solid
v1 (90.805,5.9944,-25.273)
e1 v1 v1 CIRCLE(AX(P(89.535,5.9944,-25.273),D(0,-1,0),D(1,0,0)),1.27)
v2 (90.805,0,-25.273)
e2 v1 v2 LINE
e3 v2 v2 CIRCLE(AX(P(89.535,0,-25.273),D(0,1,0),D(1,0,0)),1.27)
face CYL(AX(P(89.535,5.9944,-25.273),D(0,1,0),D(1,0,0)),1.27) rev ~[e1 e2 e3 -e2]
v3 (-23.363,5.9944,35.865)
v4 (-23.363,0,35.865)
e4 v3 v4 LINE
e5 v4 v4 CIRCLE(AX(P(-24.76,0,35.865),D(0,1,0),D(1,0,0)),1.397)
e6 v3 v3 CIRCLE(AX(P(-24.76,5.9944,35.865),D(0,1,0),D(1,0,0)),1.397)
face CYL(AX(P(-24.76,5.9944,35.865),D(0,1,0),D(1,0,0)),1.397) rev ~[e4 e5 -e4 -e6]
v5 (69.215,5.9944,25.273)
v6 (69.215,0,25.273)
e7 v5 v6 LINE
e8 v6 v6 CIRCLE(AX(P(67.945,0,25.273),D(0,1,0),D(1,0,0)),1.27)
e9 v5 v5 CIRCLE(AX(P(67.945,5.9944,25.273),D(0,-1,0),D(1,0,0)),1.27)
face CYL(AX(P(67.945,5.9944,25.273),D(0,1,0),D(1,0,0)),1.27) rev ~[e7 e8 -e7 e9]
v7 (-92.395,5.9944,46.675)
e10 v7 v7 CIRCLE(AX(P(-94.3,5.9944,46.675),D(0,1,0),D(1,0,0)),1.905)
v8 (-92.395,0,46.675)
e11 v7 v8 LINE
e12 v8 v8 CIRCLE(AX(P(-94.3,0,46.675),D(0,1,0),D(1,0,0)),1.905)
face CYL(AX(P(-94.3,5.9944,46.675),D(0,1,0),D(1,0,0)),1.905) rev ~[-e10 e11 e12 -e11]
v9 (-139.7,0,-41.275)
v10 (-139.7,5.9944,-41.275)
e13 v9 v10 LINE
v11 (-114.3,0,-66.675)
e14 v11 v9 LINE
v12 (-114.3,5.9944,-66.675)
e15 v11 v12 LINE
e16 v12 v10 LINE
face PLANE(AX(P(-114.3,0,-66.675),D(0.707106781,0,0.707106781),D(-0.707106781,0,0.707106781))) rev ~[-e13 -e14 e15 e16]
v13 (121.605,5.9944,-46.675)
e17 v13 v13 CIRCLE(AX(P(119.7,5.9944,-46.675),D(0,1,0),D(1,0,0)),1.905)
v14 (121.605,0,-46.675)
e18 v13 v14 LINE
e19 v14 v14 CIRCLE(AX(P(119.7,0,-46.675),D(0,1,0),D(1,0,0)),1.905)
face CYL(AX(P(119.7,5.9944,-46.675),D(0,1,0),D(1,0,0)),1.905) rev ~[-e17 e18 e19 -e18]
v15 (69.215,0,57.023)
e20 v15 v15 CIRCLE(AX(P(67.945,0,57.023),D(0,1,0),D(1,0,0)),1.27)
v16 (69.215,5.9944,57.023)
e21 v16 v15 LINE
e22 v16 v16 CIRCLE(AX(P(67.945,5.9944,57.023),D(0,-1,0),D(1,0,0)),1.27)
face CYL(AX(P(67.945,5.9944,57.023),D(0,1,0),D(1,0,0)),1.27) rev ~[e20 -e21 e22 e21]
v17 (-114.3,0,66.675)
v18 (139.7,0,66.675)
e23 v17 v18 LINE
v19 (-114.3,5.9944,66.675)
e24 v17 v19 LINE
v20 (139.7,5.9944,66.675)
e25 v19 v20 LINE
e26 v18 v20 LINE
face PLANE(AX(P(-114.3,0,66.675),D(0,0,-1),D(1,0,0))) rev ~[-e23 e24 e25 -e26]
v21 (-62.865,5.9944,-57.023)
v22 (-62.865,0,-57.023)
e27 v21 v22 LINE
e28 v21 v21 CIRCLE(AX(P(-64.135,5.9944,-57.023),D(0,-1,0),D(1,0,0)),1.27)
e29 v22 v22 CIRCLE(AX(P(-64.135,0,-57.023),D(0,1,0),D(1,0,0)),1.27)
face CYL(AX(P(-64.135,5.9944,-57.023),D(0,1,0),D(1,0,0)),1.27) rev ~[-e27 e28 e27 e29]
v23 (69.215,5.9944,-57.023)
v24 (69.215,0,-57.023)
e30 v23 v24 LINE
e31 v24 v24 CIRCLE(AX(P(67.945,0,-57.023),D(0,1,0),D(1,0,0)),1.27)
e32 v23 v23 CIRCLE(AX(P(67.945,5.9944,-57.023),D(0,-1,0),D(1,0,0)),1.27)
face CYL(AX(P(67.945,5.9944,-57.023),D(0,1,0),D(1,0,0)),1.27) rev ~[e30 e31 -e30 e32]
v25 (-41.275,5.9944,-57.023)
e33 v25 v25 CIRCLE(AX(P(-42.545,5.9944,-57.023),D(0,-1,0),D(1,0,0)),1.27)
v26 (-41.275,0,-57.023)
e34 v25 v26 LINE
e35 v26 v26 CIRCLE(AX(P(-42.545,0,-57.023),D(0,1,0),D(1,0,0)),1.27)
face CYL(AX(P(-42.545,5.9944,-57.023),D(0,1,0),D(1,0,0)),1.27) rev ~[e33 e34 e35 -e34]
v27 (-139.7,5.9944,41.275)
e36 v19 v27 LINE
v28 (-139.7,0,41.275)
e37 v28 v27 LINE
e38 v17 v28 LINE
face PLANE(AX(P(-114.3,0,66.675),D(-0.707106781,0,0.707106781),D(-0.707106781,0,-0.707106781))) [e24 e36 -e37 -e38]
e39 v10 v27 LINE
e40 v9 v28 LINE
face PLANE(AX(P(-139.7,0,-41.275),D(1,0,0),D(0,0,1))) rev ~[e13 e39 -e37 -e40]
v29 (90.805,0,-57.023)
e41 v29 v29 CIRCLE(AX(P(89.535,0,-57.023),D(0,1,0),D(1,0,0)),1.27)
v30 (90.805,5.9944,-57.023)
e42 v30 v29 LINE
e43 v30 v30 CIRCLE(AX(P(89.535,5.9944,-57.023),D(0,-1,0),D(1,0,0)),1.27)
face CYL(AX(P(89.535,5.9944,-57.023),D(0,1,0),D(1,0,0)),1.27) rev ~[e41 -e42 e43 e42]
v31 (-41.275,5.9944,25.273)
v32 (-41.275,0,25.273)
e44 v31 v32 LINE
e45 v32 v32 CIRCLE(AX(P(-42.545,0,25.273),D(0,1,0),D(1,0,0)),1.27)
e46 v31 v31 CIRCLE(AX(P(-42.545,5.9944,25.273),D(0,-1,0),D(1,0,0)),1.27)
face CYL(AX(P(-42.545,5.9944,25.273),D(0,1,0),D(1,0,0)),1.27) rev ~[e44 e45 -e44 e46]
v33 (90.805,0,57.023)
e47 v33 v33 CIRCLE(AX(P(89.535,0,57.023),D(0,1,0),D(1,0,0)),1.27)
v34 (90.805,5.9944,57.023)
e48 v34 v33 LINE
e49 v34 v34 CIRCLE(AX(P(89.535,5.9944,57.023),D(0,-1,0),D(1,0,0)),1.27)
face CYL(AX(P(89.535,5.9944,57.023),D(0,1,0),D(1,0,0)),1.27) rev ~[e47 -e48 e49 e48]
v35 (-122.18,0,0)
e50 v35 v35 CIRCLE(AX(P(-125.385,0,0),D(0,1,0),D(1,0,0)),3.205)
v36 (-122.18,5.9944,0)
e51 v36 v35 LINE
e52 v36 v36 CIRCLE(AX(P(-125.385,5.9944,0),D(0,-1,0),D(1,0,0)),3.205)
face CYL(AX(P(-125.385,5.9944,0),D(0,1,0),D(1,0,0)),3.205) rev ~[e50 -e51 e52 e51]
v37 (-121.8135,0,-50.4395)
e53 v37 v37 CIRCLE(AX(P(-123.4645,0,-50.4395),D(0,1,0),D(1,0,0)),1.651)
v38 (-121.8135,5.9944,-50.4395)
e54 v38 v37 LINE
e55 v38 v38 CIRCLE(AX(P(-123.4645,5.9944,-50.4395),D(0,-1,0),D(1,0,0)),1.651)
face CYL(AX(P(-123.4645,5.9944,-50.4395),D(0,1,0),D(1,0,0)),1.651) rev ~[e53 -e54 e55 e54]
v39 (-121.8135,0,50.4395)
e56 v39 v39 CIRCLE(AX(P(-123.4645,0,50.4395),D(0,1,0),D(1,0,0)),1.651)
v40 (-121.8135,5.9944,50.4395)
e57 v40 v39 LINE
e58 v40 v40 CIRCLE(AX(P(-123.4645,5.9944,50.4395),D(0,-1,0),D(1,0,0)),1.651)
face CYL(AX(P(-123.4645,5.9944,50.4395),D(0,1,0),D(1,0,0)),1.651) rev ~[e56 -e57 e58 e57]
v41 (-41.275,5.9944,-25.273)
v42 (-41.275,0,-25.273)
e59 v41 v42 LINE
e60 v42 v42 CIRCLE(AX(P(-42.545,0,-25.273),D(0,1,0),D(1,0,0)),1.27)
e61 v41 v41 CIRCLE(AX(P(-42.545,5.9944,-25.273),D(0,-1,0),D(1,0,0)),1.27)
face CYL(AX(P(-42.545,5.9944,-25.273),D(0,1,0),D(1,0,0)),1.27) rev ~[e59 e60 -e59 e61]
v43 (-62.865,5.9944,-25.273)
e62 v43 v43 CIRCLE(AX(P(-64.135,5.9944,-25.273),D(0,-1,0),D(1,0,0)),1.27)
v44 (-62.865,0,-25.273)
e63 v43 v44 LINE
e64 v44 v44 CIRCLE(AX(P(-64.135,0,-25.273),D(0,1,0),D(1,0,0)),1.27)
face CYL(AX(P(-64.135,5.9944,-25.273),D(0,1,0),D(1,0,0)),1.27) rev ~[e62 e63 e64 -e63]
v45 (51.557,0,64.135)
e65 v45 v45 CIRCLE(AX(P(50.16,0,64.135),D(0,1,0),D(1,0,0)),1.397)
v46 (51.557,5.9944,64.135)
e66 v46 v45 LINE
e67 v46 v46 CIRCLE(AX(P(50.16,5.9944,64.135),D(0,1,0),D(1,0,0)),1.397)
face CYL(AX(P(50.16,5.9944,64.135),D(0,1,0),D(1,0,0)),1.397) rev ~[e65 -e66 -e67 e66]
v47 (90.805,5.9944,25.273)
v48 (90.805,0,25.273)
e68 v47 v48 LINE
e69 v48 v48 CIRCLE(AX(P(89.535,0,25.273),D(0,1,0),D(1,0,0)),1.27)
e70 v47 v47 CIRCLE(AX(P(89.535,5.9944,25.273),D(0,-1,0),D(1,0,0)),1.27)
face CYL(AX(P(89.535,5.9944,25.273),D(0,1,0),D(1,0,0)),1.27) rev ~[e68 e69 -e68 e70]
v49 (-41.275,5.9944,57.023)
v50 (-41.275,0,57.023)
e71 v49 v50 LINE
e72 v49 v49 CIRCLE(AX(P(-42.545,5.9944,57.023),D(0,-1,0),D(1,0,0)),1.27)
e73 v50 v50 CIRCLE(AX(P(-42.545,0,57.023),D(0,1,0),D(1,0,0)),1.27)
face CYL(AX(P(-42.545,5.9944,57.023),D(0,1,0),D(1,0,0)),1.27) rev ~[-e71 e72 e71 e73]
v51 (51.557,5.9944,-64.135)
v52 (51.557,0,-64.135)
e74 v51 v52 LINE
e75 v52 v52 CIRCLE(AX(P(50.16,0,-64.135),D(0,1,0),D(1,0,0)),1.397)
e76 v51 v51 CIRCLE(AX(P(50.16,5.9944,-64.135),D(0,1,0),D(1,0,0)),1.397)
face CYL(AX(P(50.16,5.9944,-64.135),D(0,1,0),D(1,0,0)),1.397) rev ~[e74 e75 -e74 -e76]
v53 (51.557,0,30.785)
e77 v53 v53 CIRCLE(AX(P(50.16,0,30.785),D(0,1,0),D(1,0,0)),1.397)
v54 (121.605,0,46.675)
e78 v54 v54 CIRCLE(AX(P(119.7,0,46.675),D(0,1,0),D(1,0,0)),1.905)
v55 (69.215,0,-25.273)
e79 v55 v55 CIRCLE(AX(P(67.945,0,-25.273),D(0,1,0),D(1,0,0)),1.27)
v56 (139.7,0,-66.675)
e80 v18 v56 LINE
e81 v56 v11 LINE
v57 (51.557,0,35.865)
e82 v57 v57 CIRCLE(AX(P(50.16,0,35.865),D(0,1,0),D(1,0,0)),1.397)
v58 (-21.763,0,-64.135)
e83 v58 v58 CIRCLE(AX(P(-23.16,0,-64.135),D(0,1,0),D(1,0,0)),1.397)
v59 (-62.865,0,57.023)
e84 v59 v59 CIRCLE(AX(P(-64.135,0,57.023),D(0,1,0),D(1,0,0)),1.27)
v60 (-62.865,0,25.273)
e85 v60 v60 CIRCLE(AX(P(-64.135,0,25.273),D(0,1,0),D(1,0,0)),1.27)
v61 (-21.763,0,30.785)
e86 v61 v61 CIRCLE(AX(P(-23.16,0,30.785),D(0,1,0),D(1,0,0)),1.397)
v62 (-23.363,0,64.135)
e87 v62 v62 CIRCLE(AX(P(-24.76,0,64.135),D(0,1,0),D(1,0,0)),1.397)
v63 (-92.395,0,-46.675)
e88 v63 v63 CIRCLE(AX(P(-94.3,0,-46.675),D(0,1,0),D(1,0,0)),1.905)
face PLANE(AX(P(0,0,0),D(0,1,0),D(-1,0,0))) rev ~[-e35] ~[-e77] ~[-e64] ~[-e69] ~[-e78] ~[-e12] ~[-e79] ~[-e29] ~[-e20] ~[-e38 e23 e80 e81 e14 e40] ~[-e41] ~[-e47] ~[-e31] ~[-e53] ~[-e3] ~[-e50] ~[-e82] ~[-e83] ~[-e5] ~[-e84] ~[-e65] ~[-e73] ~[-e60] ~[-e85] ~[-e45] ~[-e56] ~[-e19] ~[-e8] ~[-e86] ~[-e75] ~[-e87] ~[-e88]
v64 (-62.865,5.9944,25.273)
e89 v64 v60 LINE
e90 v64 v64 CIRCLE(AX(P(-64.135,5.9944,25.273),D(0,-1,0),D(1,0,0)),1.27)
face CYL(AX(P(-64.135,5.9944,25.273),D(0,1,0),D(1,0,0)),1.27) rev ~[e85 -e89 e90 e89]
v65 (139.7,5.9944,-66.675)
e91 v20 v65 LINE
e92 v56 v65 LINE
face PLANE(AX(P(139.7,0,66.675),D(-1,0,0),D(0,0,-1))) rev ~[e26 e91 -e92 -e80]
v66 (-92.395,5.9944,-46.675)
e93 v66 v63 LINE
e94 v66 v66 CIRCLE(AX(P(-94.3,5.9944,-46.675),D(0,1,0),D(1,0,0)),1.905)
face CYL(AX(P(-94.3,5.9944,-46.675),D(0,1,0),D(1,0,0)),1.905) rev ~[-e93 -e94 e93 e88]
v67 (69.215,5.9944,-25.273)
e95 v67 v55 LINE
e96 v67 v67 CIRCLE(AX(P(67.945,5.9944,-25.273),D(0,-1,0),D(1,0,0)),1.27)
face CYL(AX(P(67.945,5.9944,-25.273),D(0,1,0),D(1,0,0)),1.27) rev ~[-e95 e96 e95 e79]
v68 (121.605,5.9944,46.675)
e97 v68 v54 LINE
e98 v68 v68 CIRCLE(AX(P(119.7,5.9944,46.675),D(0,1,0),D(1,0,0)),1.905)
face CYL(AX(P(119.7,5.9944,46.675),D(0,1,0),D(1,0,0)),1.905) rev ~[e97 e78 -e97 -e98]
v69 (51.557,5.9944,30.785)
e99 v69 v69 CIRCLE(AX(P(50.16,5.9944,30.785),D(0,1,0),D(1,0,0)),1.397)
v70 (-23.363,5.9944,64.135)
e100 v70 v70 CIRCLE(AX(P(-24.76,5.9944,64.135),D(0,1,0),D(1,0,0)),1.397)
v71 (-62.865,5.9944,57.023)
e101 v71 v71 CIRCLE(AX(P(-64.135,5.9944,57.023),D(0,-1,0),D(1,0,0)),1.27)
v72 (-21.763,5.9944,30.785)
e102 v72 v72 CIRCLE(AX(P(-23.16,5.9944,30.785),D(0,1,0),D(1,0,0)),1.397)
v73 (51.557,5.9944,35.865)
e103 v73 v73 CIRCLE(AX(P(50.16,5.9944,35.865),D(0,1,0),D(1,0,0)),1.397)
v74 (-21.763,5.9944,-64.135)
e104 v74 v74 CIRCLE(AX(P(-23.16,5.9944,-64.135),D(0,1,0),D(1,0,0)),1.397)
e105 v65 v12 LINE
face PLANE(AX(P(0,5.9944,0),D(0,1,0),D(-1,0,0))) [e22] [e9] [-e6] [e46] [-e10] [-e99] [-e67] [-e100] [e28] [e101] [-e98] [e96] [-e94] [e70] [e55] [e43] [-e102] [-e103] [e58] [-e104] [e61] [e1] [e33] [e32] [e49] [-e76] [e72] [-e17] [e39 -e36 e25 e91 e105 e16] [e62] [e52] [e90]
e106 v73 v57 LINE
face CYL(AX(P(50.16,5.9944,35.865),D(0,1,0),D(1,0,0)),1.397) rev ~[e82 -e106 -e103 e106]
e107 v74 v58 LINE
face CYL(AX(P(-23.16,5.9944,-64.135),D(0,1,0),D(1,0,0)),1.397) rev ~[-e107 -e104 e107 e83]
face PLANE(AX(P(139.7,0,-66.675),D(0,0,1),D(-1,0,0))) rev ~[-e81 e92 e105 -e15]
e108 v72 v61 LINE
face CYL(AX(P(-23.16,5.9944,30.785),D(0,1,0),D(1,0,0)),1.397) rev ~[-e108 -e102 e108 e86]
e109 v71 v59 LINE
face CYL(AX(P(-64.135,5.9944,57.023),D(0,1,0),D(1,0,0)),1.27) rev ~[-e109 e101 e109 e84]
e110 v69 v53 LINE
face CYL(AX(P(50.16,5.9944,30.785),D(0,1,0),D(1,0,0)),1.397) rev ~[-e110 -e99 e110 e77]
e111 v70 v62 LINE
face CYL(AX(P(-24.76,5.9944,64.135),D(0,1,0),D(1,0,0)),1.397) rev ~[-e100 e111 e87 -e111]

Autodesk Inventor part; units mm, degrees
ref_plane "YZ Plane" through (0, 0, 0) normal (1, 0, 0) x (0, 1, 0)
ref_plane "XZ Plane" through (0, 0, 0) normal (0, 1, 0) x (-1, 0, 0)
ref_plane "XY Plane" through (0, 0, 0) normal (0, 0, 1) x (1, 0, 0)
sketch "Sketch1" plane through (0, 0, 0) normal (0, 1, 0) x (-1, 0, 0)
  line L0 (139.7, 66.675) -> (-139.7, 66.675)
  line L1 (-139.7, 66.675) -> (-139.7, -66.675)
  line L2 (-139.7, -66.675) -> (139.7, -66.675)
  line L3 (139.7, -66.675) -> (139.7, 66.675)
  line L4 (114.3, 66.675) -> (114.3, -66.675)
  line L5 (114.3, 66.675) -> (139.7, 41.275)
  line L6 (114.3, -66.675) -> (139.7, -41.275)
  point P0 (0, 0)
  dimension "d0" = 133.35
  dimension "d1" = 279.4
  dimension "d2" = 66.675
  dimension "d3" = 139.7
  dimension "d4" = 25.4
  dimension "d5" = 45
  dimension "d6" = 45
extrude "Body" add sketch "Sketch1" along normal blind 5.9944 contours L4 L2 L1 L0 | L5 L3 L6 L4
sketch "Sketch2" plane through (0, 5.9944, 0) normal (0, 1, 0) x (1, 0, 0)
  line L0 (-114.3, 66.675) -> (-139.7, 41.275) projected
  line L1 (-139.7, 41.275) -> (-139.7, -41.275) projected
  line L2 (-139.7, -41.275) -> (-114.3, -66.675) projected
  line L3 (-114.3, -66.675) -> (139.7, -66.675) projected
  line L4 (139.7, -66.675) -> (139.7, 66.675) projected
  line L5 (139.7, 66.675) -> (-114.3, 66.675) projected
  line L6 (-114.3, -66.675) -> (-114.3, 66.675)
  line L7 (-114.3, -14.605) -> (139.7, -14.605)
  line L8 (78.74, -14.605) -> (78.74, -66.675)
  line L9 (-53.34, -14.605) -> (-53.34, -66.675)
  line L10 (-114.3, -66.675) -> (139.7, -66.675) projected
  line L11 (-42.545, -14.605) -> (-42.545, -66.675)
  line L12 (-42.545, -66.675) -> (-64.135, -66.675)
  line L13 (-64.135, -66.675) -> (-64.135, -14.605)
  line L14 (12.7, -66.675) -> (12.7, 66.675)
  line L15 (78.74, -14.605) -> (78.74, -66.675)
  line L16 (67.945, -14.605) -> (67.945, -66.675)
  line L17 (89.535, -66.675) -> (89.535, -14.605)
  circle A0 centre (-64.135, -57.023) radius 1.27
  circle A1 centre (-64.135, -25.273) radius 1.27
  circle A2 centre (-42.545, -57.023) radius 1.27
  circle A3 centre (-42.545, -25.273) radius 1.27
  circle A4 centre (89.535, -57.023) radius 1.27
  circle A5 centre (89.535, -25.273) radius 1.27
  circle A6 centre (67.945, -25.273) radius 1.27
  circle A7 centre (67.945, -57.023) radius 1.27
  line L18 (-139.7, 0) -> (139.7, 0)
  line L19 (-114.3, 14.605) -> (139.7, 14.605)
  line L20 (78.74, 14.605) -> (78.74, 66.675)
  line L21 (-53.34, 14.605) -> (-53.34, 66.675)
  line L22 (-42.545, 14.605) -> (-42.545, 66.675)
  line L23 (-64.135, 66.675) -> (-64.135, 14.605)
  line L24 (67.945, 14.605) -> (67.945, 66.675)
  line L25 (89.535, 66.675) -> (89.535, 14.605)
  circle A8 centre (-64.135, 57.023) radius 1.27
  circle A9 centre (-64.135, 25.273) radius 1.27
  circle A10 centre (-42.545, 25.273) radius 1.27
  circle A11 centre (-42.545, 57.023) radius 1.27
  circle A12 centre (89.535, 25.273) radius 1.27
  circle A13 centre (67.945, 25.273) radius 1.27
  circle A14 centre (67.945, 57.023) radius 1.27
  circle A15 centre (89.535, 57.023) radius 1.27
  point P0 (0, 0)
  dimension "d10" = 52.07
  dimension "d11" = 60.96
  dimension "d12" = 60.96
  dimension "d13" = 21.59
  dimension "d14" = 10.795
  dimension "d15" = 127
  dimension "d16" = 2.54
  dimension "d17" = 9.652
  dimension "d18" = 2.54
  dimension "d19" = 10.668
extrude "Motor Mounts" cut sketch "Sketch2" against normal blind 5.9944 contours A8 L23 | L23 A8 | A9 L23 | L23 A9 | A11 L22 | L22 A11 | A10 L22 | L22 A10 | A1 L13 | L13 A1 | A0 L13 | L13 A0 | A14 L24 | L24 A14 | A3 L11 | L11 A3 | A6 L16 | L16 A6 | A13 L24 | L24 A13 | A2 L11 | L11 A2 | A7 L16 | L16 A7 | A5 L17 | L17 A5 | A12 L25 | L25 A12 | A15 L25 | L25 A15 | A4 L17 | L17 A4
sketch "Sketch3" plane through (0, 5.9944, 0) normal (0, 1, 0) x (1, 0, 0)
  circle A0 centre (67.945, 57.023) radius 1.27 projected
  circle A1 centre (67.945, 25.273) radius 1.27 projected
  circle A2 centre (-64.135, 57.023) radius 1.27 projected
  circle A3 centre (-64.135, 25.273) radius 1.27 projected
  circle A4 centre (-64.135, -25.273) radius 1.27 projected
  circle A5 centre (-42.545, -57.023) radius 1.27 projected
  circle A6 centre (67.945, -57.023) radius 1.27 projected
  circle A7 centre (89.535, -57.023) radius 1.27 projected
  circle A8 centre (89.535, -25.273) radius 1.27 projected
  circle A9 centre (67.945, -25.273) radius 1.27 projected
  circle A10 centre (-42.545, -25.273) radius 1.27 projected
  circle A11 centre (-64.135, -57.023) radius 1.27 projected
  circle A12 centre (-42.545, 25.273) radius 1.27 projected
  circle A13 centre (-42.545, 57.023) radius 1.27 projected
  circle A14 centre (89.535, 25.273) radius 1.27 projected
  circle A15 centre (89.535, 57.023) radius 1.27 projected
  line L0 (-114.3, 66.675) -> (-139.7, 41.275) projected
  line L1 (-139.7, 41.275) -> (-139.7, -41.275) projected
  line L2 (-139.7, -41.275) -> (-114.3, -66.675) projected
  line L3 (-114.3, -66.675) -> (139.7, -66.675) projected
  line L4 (139.7, -66.675) -> (139.7, 66.675) projected
  line L5 (139.7, 66.675) -> (-114.3, 66.675) projected
  line L6 (-139.7, 0) -> (139.7, 0)
  line L7 (-114.3, 66.675) -> (-114.3, -66.675)
  line L8 (139.7, 66.675) -> (-114.3, 66.675) projected
  line L9 (12.7, 66.675) -> (12.7, -66.675)
  line L10 (52.7, 66.675) -> (-25.7, 66.675)
  circle A16 centre (50.16, 64.135) radius 1.397
  line L11 (-25.7, 66.675) -> (52.7, 66.675)
  line L12 (52.7, 66.675) -> (52.7, -33.325)
  line L13 (52.7, -33.325) -> (-25.7, -33.325)
  line L14 (-25.7, -33.325) -> (-25.7, 66.675)
  line L15 (52.7, 16.675) -> (-25.7, 16.675)
  circle A17 centre (50.16, -30.785) radius 1.397
  circle A18 centre (-23.16, 64.135) radius 1.397
  circle A19 centre (-23.16, -30.785) radius 1.397
  point P0 (0, 0)
  point P1 (12.7, 0)
  dimension "d22" = 127
  dimension "d25" = 2.54
  dimension "d27" = 2.794
  dimension "d50" = 2.54
  dimension "d51" = 100
  dimension "d52" = 78.4
  dimension "d53" = 40
  dimension "d54" = 38.4
  dimension "d55" = 2.54
  dimension "d56" = 50
  dimension "d67" = 2.794
  dimension "d68" = 2.54
  dimension "d69" = 2.54
extrude "PCB Mounts" cut sketch "Sketch3" against normal blind 5.9944 contours A16 | A17 | A18 | A19
sketch "Sketch4" plane through (0, 5.9944, 0) normal (0, 1, 0) x (1, 0, 0)
  circle A0 centre (67.945, 57.023) radius 1.27 projected
  circle A1 centre (67.945, 25.273) radius 1.27 projected
  circle A2 centre (-64.135, 57.023) radius 1.27 projected
  circle A3 centre (-64.135, 25.273) radius 1.27 projected
  circle A4 centre (-64.135, -25.273) radius 1.27 projected
  circle A5 centre (-42.545, -57.023) radius 1.27 projected
  circle A6 centre (67.945, -57.023) radius 1.27 projected
  circle A7 centre (89.535, -57.023) radius 1.27 projected
  circle A8 centre (89.535, -25.273) radius 1.27 projected
  circle A9 centre (67.945, -25.273) radius 1.27 projected
  circle A10 centre (-42.545, -25.273) radius 1.27 projected
  circle A11 centre (-64.135, -57.023) radius 1.27 projected
  circle A12 centre (-42.545, 25.273) radius 1.27 projected
  circle A13 centre (-42.545, 57.023) radius 1.27 projected
  circle A14 centre (89.535, 25.273) radius 1.27 projected
  circle A15 centre (89.535, 57.023) radius 1.27 projected
  line L0 (-114.3, 66.675) -> (-139.7, 41.275) projected
  line L1 (-139.7, 41.275) -> (-139.7, -41.275) projected
  line L2 (-139.7, -41.275) -> (-114.3, -66.675) projected
  line L3 (-114.3, -66.675) -> (139.7, -66.675) projected
  line L4 (139.7, -66.675) -> (139.7, 66.675) projected
  line L5 (139.7, 66.675) -> (-114.3, 66.675) projected
  line L6 (-114.3, 66.675) -> (-114.3, -66.675)
  line L7 (-139.7, 0) -> (-114.3, 0)
  circle A16 centre (-125.385, 0) radius 3.205
  point P0 (0, 0)
  dimension "d30" = 14.315
  dimension "d31" = 6.41
extrude "ARLO Mount" cut sketch "Sketch4" against normal blind 25.4 contours A16 L7 | L7 A16
sketch "Sketch5" plane through (0, 5.9944, 0) normal (0, 1, 0) x (1, 0, 0)
  circle A0 centre (-125.385, 0) radius 3.205 projected
  circle A1 centre (67.945, 57.023) radius 1.27 projected
  circle A2 centre (67.945, 25.273) radius 1.27 projected
  circle A3 centre (-64.135, 57.023) radius 1.27 projected
  circle A4 centre (-64.135, 25.273) radius 1.27 projected
  circle A5 centre (-64.135, -25.273) radius 1.27 projected
  circle A6 centre (-42.545, -57.023) radius 1.27 projected
  circle A7 centre (67.945, -57.023) radius 1.27 projected
  circle A8 centre (89.535, -57.023) radius 1.27 projected
  circle A9 centre (89.535, -25.273) radius 1.27 projected
  circle A10 centre (67.945, -25.273) radius 1.27 projected
  circle A11 centre (-42.545, -25.273) radius 1.27 projected
  circle A12 centre (-64.135, -57.023) radius 1.27 projected
  circle A13 centre (-42.545, 25.273) radius 1.27 projected
  circle A14 centre (-42.545, 57.023) radius 1.27 projected
  circle A15 centre (89.535, 25.273) radius 1.27 projected
  circle A16 centre (89.535, 57.023) radius 1.27 projected
  line L0 (139.7, 66.675) -> (139.7, -66.675) projected
  line L1 (139.7, -66.675) -> (-114.3, -66.675) projected
  line L2 (-114.3, -66.675) -> (-139.7, -41.275) projected
  line L3 (-139.7, -41.275) -> (-139.7, 41.275) projected
  line L4 (-139.7, 41.275) -> (-114.3, 66.675) projected
  line L5 (-114.3, 66.675) -> (139.7, 66.675) projected
  line L6 (-114.3, 66.675) -> (-114.3, -66.675)
  line L7 (-139.7, 41.275) -> (-136.1645, 37.7395)
  line L8 (-114.3, -66.675) -> (-110.7645, -63.1395)
  line L9 (-139.7, -41.275) -> (-114.3, -66.675)
  line L10 (-136.1645, -37.7395) -> (-110.7645, -63.1395)
  circle A17 centre (-123.4645, -50.4395) radius 1.651
  line L11 (-114.3, 66.675) -> (-139.7, 41.275)
  line L12 (-136.1645, 37.7395) -> (-110.7645, 63.1395)
  circle A18 centre (-123.4645, 50.4395) radius 1.651
  line L13 (-114.3, 66.675) -> (-110.7645, 63.1395)
  line L14 (-139.7, -41.275) -> (-136.1645, -37.7395)
  circle A19 centre (50.16, 64.135) radius 1.397 projected
  circle A20 centre (50.16, -30.785) radius 1.397 projected
  circle A21 centre (-23.16, -30.785) radius 1.397 projected
  circle A22 centre (-23.16, 64.135) radius 1.397 projected
  point P0 (0, 0)
  dimension "d36" = 5
  dimension "d37" = 17.9605
  dimension "d38" = 5
  dimension "d39" = 3.302
  dimension "d40" = 3.302
  dimension "d41" = 17.9605
extrude "IR Mounts" cut sketch "Sketch5" against normal blind 25.4 contours A18 L12 | L12 A18 | A17 L10 | L10 A17
sketch "Sketch6" plane through (0, 5.9944, 0) normal (0, 1, 0) x (1, 0, 0)
  circle A0 centre (-123.4645, 50.4395) radius 1.651 projected
  circle A1 centre (-123.4645, -50.4395) radius 1.651 projected
  circle A2 centre (-125.385, 0) radius 3.205 projected
  circle A3 centre (67.945, 57.023) radius 1.27 projected
  circle A4 centre (67.945, 25.273) radius 1.27 projected
  circle A5 centre (-64.135, 57.023) radius 1.27 projected
  circle A6 centre (-64.135, 25.273) radius 1.27 projected
  circle A7 centre (-64.135, -25.273) radius 1.27 projected
  circle A8 centre (-42.545, -57.023) radius 1.27 projected
  circle A9 centre (67.945, -57.023) radius 1.27 projected
  circle A10 centre (89.535, -57.023) radius 1.27 projected
  circle A11 centre (89.535, -25.273) radius 1.27 projected
  circle A12 centre (67.945, -25.273) radius 1.27 projected
  circle A13 centre (-42.545, -25.273) radius 1.27 projected
  circle A14 centre (-64.135, -57.023) radius 1.27 projected
  circle A15 centre (-42.545, 25.273) radius 1.27 projected
  circle A16 centre (-42.545, 57.023) radius 1.27 projected
  circle A17 centre (89.535, 25.273) radius 1.27 projected
  circle A18 centre (89.535, 57.023) radius 1.27 projected
  line L0 (139.7, 66.675) -> (139.7, -66.675) projected
  line L1 (139.7, -66.675) -> (-114.3, -66.675) projected
  line L2 (-114.3, -66.675) -> (-139.7, -41.275) projected
  line L3 (-139.7, -41.275) -> (-139.7, 41.275) projected
  line L4 (-139.7, 41.275) -> (-114.3, 66.675) projected
  line L5 (-114.3, 66.675) -> (139.7, 66.675) projected
  line L6 (-114.3, 66.675) -> (-114.3, -66.675)
  line L7 (12.7, 66.675) -> (12.7, -66.675)
  line L8 (-114.3, 0) -> (139.7, 0)
  line L9 (139.7, -66.675) -> (139.7, 66.675) projected
  circle A19 centre (-94.3, 46.675) radius 1.905
  circle A20 centre (-94.3, -46.675) radius 1.905
  circle A21 centre (119.7, 46.675) radius 1.905
  circle A22 centre (119.7, -46.675) radius 1.905
  circle A23 centre (50.16, 64.135) radius 1.397 projected
  circle A24 centre (50.16, -30.785) radius 1.397 projected
  circle A25 centre (-23.16, -30.785) radius 1.397 projected
  circle A26 centre (-23.16, 64.135) radius 1.397 projected
  point P0 (0, 0)
  dimension "d44" = 127
  dimension "d45" = 3.81
  dimension "d46" = 20
  dimension "d47" = 20
extrude "Standoff Mounts" cut sketch "Sketch6" against normal blind 25.4 contours A19 | A20 | A21 | A22
sketch "Sketch7" plane through (0, 5.9944, 0) normal (0, 1, 0) x (1, 0, 0)
  circle A0 centre (119.7, 46.675) radius 1.905 projected
  circle A1 centre (-94.3, 46.675) radius 1.905 projected
  circle A2 centre (-94.3, -46.675) radius 1.905 projected
  circle A3 centre (119.7, -46.675) radius 1.905 projected
  circle A4 centre (-123.4645, 50.4395) radius 1.651 projected
  circle A5 centre (-123.4645, -50.4395) radius 1.651 projected
  circle A6 centre (-125.385, 0) radius 3.205 projected
  circle A7 centre (67.945, 57.023) radius 1.27 projected
  circle A8 centre (67.945, 25.273) radius 1.27 projected
  circle A9 centre (-64.135, 57.023) radius 1.27 projected
  circle A10 centre (-64.135, 25.273) radius 1.27 projected
  circle A11 centre (-64.135, -25.273) radius 1.27 projected
  circle A12 centre (-42.545, -57.023) radius 1.27 projected
  circle A13 centre (67.945, -57.023) radius 1.27 projected
  circle A14 centre (89.535, -57.023) radius 1.27 projected
  circle A15 centre (89.535, -25.273) radius 1.27 projected
  circle A16 centre (67.945, -25.273) radius 1.27 projected
  circle A17 centre (-42.545, -25.273) radius 1.27 projected
  circle A18 centre (-64.135, -57.023) radius 1.27 projected
  circle A19 centre (-42.545, 25.273) radius 1.27 projected
  circle A20 centre (-42.545, 57.023) radius 1.27 projected
  circle A21 centre (89.535, 25.273) radius 1.27 projected
  circle A22 centre (89.535, 57.023) radius 1.27 projected
  line L0 (139.7, 66.675) -> (139.7, -66.675) projected
  line L1 (139.7, -66.675) -> (-114.3, -66.675) projected
  line L2 (-114.3, -66.675) -> (-139.7, -41.275) projected
  line L3 (-139.7, -41.275) -> (-139.7, 41.275) projected
  line L4 (-139.7, 41.275) -> (-114.3, 66.675) projected
  line L5 (-114.3, 66.675) -> (139.7, 66.675) projected
  line L6 (-27.3, 66.675) -> (52.7, 66.675)
  line L7 (52.7, 66.675) -> (52.7, -33.325)
  line L8 (-27.3, -33.325) -> (-27.3, 66.675)
  line L9 (12.7, 66.675) -> (12.7, -33.325)
  line L10 (-114.3, -66.675) -> (139.7, -66.675) projected
  line L11 (-27.3, -33.325) -> (52.7, -33.325)
  line L12 (-27.3, -33.325) -> (52.7, -33.325)
  line L13 (52.7, -33.325) -> (52.7, -66.675)
  line L14 (52.7, -66.675) -> (-27.3, -66.675)
  line L15 (-27.3, -66.675) -> (-27.3, -33.325)
  circle A23 centre (50.16, -35.865) radius 1.397
  line L16 (-27.3, -50) -> (52.7, -50)
  circle A24 centre (-24.76, -35.865) radius 1.397
  circle A25 centre (50.16, -64.135) radius 1.397
  circle A26 centre (-24.76, -64.135) radius 1.397
  circle A27 centre (50.16, 64.135) radius 1.397 projected
  circle A28 centre (50.16, -30.785) radius 1.397 projected
  circle A29 centre (-23.16, -30.785) radius 1.397 projected
  circle A30 centre (-23.16, 64.135) radius 1.397 projected
  point P0 (0, 0)
  dimension "d57" = 80
  dimension "d58" = 127
  dimension "d59" = 40
  dimension "d60" = 100
  dimension "d61" = 2.54
  dimension "d62" = 2.54
  dimension "d63" = 2.794
  dimension "d64" = 40
extrude "Switchbox Mounts" cut sketch "Sketch7" against normal blind 25.4 contours A23 | A24 | A25 | A26
properties part number "BaseNEW"
